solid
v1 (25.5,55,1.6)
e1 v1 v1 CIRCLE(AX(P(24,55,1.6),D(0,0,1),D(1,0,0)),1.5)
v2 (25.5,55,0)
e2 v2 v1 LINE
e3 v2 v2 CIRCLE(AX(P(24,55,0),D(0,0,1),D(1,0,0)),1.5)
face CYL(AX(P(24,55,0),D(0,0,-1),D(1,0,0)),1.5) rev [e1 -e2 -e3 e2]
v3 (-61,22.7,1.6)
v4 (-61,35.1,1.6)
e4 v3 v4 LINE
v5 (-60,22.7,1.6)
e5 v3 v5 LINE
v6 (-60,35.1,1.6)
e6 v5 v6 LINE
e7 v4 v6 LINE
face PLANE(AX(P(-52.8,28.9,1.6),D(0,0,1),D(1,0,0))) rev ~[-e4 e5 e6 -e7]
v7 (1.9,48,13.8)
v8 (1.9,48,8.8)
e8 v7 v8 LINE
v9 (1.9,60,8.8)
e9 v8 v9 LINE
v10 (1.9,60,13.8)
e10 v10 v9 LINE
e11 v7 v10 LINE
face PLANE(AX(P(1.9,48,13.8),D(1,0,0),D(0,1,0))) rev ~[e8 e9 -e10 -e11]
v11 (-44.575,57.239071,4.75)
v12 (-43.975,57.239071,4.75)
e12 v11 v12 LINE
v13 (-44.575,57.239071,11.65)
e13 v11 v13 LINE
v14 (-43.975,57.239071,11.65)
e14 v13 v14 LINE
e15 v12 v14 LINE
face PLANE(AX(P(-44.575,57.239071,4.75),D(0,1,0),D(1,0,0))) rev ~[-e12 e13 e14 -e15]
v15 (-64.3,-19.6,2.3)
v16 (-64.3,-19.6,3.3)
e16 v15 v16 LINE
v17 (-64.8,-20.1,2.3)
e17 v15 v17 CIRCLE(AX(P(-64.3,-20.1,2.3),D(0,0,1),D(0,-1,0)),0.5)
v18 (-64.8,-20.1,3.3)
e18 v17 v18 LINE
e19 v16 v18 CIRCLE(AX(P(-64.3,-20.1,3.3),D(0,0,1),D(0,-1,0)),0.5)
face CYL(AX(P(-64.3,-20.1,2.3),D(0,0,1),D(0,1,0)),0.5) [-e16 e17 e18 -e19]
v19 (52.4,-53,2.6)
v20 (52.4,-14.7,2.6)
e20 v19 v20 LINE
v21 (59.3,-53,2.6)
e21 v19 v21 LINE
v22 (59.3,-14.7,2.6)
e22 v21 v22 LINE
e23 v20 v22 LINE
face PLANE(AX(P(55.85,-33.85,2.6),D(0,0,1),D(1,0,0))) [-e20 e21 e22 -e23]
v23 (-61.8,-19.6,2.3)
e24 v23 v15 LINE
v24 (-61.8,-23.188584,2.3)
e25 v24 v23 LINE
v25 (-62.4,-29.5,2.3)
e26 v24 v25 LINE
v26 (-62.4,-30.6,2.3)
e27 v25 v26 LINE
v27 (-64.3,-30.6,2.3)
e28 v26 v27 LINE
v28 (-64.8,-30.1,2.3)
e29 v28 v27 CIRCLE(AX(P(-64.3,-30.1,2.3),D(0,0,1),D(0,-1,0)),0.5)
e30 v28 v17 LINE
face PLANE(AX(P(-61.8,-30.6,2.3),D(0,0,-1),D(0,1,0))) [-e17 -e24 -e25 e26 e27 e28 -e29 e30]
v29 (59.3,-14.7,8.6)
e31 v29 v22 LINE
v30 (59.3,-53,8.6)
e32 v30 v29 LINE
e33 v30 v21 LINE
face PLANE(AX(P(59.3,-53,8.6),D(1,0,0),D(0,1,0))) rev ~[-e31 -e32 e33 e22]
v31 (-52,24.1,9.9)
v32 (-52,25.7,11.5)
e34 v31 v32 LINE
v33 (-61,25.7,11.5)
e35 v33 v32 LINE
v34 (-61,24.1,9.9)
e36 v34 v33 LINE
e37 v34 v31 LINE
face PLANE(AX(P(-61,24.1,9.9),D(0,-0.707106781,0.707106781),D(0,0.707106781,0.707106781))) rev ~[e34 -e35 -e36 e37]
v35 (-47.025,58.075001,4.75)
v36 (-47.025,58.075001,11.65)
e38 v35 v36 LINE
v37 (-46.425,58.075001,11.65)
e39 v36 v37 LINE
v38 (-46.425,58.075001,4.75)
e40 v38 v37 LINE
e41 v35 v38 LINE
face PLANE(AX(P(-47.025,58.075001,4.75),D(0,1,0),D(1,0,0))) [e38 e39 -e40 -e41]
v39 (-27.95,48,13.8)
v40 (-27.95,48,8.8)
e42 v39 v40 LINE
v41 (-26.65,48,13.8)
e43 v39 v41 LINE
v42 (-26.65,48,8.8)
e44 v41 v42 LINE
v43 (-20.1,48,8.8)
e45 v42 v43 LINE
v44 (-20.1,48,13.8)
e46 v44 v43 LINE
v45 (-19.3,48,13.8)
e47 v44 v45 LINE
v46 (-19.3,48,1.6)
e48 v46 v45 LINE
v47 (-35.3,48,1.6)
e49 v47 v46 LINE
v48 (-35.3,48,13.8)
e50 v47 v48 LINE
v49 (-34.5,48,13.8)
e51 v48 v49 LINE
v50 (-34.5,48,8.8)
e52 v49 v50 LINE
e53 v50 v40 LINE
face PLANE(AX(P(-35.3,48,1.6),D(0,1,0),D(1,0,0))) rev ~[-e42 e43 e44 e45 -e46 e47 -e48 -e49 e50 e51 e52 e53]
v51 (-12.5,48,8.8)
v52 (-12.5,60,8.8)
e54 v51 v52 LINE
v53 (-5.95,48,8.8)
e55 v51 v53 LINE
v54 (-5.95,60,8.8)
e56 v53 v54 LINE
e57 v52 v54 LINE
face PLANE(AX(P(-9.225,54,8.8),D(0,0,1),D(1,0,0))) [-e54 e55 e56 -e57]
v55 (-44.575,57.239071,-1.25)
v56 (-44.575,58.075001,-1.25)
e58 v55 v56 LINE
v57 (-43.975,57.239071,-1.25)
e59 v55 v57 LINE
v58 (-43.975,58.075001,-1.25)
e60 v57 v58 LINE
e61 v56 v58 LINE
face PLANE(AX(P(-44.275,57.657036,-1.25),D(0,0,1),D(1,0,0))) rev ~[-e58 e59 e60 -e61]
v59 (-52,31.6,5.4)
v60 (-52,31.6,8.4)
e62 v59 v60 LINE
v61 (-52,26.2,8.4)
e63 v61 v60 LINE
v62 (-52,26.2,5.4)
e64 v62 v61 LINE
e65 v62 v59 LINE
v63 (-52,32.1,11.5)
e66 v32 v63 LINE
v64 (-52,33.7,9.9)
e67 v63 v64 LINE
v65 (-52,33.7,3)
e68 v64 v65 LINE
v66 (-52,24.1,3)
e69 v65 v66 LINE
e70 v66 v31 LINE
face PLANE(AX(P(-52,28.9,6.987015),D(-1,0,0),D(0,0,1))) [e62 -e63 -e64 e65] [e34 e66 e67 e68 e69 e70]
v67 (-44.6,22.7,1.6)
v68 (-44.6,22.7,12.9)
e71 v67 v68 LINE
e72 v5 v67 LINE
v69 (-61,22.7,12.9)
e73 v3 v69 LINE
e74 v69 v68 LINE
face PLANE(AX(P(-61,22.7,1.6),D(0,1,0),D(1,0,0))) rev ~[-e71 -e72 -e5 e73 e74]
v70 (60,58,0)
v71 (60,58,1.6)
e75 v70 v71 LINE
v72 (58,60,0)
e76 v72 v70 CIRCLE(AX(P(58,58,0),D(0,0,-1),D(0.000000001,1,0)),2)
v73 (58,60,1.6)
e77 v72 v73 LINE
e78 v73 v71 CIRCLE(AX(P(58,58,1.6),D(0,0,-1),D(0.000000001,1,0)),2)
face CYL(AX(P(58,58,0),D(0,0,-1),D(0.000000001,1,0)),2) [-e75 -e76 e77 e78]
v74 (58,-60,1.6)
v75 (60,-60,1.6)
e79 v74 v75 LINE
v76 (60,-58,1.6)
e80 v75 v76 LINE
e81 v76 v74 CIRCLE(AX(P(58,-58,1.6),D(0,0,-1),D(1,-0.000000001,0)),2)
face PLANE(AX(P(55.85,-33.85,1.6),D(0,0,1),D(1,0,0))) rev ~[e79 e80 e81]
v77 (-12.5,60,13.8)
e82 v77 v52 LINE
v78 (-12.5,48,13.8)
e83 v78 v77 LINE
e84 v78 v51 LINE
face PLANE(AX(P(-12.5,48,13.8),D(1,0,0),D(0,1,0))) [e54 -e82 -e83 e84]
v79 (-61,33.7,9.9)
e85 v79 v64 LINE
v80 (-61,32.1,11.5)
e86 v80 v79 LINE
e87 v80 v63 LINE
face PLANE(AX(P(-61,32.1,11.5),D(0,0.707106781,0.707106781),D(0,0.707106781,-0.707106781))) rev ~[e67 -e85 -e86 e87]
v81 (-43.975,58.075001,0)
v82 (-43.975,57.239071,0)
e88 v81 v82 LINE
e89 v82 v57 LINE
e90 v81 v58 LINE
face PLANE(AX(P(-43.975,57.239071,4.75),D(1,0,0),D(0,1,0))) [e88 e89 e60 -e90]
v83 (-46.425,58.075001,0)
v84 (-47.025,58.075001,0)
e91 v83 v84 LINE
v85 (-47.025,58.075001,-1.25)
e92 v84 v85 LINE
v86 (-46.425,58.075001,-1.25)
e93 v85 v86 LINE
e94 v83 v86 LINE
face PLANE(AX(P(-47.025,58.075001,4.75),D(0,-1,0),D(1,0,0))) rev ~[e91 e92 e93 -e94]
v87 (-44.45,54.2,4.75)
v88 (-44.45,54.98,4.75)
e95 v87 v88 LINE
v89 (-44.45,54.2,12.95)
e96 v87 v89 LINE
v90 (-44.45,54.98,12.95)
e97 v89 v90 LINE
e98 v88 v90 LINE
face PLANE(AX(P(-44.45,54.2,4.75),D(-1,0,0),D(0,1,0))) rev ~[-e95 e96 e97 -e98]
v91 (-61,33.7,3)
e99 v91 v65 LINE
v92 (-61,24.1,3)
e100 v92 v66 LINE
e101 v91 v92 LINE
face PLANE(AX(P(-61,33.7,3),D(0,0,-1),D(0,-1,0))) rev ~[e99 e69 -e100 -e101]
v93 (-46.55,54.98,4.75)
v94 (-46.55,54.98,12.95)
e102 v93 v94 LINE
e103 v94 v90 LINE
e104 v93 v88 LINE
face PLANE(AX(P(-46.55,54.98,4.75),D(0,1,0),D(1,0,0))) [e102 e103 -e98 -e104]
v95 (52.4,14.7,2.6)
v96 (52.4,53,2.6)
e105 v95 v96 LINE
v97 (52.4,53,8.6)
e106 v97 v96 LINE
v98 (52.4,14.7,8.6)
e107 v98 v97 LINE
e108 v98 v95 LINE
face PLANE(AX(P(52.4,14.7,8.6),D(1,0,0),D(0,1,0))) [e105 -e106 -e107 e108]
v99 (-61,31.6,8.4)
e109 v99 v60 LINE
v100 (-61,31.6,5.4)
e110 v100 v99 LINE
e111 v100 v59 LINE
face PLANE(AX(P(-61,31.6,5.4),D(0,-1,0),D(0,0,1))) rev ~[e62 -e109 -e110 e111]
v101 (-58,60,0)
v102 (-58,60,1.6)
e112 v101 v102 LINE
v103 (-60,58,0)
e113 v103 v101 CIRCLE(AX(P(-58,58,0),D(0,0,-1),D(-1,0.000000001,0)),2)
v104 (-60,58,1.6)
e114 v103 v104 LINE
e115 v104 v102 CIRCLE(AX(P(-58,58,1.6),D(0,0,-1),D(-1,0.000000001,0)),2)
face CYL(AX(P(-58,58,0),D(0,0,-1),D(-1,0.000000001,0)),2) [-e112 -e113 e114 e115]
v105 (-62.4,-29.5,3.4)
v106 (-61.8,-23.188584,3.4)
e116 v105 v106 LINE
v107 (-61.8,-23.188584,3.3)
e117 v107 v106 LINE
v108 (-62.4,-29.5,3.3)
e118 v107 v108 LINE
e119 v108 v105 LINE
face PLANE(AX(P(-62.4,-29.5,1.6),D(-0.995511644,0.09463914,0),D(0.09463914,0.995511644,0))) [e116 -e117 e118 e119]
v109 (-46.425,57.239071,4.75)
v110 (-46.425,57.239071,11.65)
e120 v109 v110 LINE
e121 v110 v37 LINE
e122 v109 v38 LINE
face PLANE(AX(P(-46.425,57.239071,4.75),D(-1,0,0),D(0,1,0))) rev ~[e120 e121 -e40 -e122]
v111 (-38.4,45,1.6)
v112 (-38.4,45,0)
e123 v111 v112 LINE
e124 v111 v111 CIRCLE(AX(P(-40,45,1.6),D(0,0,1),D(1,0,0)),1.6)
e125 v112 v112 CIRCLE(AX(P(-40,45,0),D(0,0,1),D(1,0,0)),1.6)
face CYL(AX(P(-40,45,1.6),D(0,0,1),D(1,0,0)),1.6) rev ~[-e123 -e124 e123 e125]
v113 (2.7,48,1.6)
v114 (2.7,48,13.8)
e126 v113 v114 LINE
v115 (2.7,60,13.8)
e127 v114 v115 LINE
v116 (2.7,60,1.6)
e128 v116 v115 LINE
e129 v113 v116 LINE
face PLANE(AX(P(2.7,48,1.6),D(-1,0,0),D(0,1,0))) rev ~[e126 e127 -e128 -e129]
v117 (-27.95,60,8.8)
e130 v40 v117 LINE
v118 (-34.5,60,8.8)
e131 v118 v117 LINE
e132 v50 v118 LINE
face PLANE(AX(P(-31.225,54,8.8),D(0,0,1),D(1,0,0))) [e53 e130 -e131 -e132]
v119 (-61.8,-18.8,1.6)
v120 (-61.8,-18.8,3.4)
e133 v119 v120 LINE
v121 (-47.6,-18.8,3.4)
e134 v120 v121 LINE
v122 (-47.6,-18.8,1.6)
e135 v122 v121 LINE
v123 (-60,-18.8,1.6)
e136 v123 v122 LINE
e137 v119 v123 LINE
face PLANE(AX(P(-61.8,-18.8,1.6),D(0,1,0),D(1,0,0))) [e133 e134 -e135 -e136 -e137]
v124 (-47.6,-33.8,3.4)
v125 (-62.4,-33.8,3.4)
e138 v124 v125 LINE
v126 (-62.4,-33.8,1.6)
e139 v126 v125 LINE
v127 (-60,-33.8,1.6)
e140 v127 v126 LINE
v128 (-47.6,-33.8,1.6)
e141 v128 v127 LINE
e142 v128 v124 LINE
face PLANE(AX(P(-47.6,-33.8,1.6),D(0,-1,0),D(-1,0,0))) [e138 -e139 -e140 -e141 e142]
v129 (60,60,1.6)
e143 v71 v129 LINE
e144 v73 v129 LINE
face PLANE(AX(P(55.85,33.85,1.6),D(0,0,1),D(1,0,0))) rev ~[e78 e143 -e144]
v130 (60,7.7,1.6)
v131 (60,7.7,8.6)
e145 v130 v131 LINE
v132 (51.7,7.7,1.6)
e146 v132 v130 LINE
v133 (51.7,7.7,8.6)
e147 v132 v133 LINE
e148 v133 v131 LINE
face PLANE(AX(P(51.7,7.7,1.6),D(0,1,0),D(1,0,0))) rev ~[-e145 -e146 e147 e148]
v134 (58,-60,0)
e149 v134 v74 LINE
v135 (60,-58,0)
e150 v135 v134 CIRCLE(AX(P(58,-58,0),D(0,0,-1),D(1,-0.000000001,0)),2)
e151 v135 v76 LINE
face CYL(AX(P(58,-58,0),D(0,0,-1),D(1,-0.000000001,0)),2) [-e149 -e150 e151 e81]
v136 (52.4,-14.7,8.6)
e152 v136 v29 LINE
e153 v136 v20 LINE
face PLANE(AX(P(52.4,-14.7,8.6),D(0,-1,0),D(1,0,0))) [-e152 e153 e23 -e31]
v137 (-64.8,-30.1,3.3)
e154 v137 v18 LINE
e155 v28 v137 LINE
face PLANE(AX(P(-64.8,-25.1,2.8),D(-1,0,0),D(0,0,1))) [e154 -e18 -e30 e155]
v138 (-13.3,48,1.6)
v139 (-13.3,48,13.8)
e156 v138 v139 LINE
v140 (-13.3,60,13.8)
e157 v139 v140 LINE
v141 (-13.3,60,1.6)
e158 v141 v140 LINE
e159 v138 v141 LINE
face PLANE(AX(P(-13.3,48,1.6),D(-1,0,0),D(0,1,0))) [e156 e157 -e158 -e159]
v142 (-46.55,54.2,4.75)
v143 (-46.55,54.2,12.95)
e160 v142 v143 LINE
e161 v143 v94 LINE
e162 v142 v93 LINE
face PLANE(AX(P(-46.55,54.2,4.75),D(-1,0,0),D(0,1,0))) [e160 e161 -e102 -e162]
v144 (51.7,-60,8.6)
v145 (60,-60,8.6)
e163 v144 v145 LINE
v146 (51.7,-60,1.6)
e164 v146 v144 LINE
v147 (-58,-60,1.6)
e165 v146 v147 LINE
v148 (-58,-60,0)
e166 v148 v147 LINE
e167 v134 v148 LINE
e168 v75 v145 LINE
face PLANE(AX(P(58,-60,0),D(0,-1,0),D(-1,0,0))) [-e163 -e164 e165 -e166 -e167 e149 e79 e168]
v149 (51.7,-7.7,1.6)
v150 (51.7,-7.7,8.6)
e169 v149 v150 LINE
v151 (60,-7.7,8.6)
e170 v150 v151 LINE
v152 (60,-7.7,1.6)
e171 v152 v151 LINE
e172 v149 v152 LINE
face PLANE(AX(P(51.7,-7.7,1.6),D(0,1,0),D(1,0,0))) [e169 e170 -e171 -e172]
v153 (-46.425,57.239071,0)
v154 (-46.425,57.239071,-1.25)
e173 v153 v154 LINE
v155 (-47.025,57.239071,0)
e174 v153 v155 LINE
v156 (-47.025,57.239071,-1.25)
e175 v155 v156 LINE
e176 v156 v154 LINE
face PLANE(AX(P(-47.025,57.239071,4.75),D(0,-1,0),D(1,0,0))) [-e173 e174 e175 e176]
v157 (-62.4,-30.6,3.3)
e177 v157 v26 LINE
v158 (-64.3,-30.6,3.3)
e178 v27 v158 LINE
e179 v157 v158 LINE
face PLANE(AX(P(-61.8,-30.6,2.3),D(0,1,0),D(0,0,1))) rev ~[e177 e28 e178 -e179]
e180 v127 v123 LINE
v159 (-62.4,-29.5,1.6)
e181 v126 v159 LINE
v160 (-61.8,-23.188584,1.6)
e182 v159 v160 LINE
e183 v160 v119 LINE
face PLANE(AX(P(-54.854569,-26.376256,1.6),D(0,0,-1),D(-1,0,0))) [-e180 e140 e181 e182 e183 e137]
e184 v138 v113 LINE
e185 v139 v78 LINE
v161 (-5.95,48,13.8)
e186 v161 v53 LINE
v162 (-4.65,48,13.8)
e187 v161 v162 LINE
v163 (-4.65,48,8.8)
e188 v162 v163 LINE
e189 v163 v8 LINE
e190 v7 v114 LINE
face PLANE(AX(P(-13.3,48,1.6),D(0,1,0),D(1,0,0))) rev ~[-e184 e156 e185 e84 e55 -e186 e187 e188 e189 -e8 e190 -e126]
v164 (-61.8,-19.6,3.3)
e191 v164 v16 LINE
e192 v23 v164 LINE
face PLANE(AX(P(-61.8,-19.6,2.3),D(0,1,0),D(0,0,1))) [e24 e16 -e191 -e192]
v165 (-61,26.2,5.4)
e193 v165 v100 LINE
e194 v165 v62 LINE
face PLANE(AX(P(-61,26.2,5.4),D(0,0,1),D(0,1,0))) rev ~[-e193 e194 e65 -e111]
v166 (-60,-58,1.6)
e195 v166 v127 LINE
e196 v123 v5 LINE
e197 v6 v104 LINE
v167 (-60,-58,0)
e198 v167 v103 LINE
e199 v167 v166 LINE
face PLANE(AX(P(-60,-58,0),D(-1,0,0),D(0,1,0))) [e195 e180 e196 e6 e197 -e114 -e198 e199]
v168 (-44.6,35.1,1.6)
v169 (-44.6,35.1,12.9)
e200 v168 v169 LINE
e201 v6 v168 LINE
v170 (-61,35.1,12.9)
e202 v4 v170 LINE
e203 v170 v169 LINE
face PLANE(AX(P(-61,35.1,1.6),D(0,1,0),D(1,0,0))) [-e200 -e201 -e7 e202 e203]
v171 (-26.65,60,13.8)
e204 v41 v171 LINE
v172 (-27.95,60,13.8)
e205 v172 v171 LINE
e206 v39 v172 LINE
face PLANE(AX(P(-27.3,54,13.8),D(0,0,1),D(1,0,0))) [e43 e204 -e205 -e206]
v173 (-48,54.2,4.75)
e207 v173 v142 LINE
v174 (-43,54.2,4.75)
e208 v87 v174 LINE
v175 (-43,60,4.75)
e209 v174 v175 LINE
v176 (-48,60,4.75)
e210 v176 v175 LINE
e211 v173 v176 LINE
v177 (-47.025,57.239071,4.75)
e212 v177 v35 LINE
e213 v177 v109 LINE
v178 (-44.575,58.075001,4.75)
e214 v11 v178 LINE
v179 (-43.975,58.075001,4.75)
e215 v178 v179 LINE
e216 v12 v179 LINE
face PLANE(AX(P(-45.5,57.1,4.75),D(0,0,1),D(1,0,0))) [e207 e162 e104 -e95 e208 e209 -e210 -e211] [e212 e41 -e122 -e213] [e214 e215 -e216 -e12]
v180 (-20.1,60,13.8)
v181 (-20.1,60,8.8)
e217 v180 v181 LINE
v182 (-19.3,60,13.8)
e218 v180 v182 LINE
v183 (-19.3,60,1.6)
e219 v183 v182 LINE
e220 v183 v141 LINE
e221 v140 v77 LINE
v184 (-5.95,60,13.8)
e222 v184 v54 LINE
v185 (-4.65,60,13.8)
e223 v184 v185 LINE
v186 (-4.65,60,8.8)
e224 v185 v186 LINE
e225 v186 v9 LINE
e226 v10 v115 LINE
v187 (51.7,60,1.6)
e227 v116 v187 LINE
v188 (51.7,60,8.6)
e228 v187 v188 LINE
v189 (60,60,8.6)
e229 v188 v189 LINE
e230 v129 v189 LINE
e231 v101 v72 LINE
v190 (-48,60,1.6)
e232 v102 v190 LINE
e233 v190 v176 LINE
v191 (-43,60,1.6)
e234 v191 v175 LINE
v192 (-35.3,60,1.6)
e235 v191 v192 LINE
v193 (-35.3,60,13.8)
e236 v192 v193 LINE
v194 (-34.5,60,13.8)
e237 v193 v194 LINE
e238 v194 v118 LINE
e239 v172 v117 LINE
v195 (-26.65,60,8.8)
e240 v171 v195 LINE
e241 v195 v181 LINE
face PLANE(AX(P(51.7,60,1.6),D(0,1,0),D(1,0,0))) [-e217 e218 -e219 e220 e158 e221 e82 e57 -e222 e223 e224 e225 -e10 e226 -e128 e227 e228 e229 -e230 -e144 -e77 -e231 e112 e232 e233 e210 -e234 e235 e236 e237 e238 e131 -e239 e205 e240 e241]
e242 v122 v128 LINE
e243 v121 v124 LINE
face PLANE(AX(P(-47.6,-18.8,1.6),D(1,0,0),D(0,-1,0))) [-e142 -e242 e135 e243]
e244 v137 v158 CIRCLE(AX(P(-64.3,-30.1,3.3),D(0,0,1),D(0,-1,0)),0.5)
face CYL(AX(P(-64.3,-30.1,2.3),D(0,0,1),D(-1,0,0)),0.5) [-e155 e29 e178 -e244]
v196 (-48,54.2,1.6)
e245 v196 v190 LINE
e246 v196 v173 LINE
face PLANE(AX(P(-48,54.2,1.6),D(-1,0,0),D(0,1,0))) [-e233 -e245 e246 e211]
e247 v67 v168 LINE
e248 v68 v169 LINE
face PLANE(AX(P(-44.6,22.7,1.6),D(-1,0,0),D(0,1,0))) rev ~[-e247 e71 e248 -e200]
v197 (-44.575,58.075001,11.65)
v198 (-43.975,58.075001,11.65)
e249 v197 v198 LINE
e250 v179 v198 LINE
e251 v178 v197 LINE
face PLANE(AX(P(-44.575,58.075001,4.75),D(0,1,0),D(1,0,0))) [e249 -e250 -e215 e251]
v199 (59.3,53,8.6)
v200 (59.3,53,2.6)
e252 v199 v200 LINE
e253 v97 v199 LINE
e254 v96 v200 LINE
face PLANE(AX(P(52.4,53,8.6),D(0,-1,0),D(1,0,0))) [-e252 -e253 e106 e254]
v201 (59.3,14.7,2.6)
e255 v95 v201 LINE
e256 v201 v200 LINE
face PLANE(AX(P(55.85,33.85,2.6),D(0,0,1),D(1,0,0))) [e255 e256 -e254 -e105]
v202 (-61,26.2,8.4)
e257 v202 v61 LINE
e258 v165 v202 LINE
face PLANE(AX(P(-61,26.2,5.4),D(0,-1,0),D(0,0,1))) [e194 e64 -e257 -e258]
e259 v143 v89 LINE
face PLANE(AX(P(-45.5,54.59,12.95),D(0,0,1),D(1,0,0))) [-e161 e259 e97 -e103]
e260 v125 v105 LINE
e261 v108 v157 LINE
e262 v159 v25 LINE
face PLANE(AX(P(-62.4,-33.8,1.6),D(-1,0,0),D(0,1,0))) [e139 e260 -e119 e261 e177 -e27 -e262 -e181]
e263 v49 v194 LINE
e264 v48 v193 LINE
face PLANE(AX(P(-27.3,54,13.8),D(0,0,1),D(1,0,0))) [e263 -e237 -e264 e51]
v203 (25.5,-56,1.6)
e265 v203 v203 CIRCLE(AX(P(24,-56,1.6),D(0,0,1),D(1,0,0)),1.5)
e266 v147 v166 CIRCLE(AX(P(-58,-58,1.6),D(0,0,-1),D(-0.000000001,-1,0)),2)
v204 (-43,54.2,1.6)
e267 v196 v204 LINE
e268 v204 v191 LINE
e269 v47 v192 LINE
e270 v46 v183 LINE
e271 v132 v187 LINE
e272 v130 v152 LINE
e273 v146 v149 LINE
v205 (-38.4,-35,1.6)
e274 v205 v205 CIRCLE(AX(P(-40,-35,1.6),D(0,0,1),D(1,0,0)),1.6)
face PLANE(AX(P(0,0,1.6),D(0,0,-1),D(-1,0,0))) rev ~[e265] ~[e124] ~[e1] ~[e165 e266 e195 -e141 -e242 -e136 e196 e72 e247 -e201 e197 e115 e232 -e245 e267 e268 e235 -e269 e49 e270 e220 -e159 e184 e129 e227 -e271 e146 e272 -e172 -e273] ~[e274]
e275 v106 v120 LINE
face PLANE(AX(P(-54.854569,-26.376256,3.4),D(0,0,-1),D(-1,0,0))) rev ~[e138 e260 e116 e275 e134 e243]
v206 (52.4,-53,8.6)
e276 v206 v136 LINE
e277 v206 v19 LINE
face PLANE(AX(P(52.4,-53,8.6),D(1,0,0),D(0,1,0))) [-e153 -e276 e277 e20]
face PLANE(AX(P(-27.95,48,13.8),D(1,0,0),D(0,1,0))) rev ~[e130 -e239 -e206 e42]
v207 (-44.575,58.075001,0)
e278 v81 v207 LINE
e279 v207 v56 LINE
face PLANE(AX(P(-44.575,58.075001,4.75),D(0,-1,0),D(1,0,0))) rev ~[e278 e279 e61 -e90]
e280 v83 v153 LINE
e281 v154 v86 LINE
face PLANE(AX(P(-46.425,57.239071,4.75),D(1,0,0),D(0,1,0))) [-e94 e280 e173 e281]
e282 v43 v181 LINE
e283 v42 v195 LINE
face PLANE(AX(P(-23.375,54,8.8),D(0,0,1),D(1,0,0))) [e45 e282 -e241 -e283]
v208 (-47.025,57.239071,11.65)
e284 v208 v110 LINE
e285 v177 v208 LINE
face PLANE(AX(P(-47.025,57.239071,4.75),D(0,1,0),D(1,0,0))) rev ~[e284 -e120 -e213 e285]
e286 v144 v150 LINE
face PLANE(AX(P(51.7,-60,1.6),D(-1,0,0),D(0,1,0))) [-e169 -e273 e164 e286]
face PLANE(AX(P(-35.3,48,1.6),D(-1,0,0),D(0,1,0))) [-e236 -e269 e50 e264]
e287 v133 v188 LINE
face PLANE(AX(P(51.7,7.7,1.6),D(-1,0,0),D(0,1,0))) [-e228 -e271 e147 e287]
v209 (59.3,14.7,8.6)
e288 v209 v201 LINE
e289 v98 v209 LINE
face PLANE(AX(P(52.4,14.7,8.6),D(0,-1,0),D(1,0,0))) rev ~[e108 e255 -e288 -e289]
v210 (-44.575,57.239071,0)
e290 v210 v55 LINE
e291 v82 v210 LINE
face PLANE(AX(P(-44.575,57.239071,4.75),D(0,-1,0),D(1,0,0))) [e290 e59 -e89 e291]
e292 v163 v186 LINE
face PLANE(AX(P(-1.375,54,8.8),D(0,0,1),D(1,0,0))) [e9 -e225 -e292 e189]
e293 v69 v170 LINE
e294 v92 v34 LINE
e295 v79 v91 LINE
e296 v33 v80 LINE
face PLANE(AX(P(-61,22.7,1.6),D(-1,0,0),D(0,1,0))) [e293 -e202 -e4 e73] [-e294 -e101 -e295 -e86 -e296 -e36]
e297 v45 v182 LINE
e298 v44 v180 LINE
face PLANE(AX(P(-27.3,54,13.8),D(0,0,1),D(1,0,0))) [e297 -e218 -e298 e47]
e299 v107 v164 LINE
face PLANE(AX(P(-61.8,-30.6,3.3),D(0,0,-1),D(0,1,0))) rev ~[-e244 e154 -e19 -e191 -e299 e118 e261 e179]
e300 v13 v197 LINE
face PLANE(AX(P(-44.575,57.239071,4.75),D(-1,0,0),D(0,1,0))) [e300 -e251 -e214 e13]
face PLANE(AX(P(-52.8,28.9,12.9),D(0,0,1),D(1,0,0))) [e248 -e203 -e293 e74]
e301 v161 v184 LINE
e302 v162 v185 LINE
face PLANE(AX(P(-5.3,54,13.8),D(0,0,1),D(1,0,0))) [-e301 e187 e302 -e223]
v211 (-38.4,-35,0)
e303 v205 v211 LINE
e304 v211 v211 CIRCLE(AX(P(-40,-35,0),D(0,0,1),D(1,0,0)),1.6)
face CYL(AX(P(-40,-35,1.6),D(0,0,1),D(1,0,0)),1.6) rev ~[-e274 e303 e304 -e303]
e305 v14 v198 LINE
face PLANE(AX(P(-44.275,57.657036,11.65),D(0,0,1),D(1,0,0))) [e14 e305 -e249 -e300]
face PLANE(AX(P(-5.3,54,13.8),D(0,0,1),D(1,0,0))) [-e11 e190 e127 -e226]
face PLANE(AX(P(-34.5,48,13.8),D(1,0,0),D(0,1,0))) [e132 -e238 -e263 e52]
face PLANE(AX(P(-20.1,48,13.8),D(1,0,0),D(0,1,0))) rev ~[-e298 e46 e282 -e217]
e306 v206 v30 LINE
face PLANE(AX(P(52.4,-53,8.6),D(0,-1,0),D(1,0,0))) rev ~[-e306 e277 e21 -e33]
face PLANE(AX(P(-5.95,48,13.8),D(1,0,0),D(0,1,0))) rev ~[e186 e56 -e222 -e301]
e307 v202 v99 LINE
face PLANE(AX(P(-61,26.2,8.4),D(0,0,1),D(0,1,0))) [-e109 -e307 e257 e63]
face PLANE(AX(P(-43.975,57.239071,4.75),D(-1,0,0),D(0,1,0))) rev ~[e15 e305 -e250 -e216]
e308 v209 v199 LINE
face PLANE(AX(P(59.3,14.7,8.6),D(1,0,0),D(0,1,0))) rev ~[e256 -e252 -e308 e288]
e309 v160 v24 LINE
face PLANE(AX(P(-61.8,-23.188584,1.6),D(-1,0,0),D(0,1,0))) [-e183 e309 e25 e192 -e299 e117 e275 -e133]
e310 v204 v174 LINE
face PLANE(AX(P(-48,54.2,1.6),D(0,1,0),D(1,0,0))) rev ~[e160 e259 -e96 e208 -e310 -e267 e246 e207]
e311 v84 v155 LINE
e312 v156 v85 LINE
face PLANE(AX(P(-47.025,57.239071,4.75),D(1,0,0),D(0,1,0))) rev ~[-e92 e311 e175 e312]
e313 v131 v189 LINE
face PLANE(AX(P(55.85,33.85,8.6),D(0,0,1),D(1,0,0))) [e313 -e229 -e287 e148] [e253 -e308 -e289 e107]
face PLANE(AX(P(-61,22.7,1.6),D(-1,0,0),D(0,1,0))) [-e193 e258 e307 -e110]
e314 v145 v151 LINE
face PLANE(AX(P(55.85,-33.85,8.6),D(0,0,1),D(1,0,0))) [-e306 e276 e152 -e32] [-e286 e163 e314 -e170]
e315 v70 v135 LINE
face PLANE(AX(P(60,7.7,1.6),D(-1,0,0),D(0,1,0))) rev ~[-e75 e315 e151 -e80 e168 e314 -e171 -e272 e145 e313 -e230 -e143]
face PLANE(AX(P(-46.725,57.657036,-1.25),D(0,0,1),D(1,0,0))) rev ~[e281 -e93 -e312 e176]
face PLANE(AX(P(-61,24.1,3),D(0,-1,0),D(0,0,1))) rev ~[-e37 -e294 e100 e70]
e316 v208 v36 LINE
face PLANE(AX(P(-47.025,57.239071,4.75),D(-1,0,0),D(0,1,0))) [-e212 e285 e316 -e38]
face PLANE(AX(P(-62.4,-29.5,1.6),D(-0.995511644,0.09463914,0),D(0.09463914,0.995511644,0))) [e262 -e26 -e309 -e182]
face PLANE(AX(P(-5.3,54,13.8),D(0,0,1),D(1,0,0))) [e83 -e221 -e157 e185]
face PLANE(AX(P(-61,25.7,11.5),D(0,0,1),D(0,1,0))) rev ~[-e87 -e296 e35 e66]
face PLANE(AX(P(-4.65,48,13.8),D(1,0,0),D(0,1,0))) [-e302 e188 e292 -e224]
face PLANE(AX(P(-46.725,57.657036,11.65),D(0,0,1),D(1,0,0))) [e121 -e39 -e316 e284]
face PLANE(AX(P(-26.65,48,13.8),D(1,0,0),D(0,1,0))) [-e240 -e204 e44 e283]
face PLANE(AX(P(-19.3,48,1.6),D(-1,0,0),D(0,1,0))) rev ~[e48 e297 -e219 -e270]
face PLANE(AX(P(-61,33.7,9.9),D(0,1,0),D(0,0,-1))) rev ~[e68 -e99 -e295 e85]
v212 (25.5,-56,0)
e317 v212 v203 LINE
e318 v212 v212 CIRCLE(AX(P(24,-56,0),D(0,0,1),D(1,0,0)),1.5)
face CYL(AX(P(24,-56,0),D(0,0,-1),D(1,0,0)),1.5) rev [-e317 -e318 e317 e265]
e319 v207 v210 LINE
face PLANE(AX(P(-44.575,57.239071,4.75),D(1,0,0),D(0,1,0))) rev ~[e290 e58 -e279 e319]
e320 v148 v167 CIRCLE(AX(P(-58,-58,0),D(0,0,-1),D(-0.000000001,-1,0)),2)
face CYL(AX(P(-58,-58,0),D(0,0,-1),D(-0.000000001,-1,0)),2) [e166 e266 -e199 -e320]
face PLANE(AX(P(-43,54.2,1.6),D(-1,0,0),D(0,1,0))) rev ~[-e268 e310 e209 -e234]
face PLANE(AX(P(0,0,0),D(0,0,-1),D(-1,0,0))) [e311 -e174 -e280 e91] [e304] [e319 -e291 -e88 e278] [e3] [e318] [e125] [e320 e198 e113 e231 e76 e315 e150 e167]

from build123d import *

# Parameters (mm, degrees)
SKETCH_1_R             = 1.5
EXTRUDE_1_DEPTH        = 1.6
SKETCH_2_W             = 16.4
SKETCH_2_H             = 12.4
EXTRUDE_2_DEPTH        = 11.3
SKETCH_3_W             = 3
SKETCH_3_H             = 5.4
CUT_EXTRUDE_1_DEPTH    = 9
EXTRUDE_3_DEPTH        = 1.8
SKETCH_5_W             = 1
SKETCH_5_H             = 11
EXTRUDE_4_DEPTH        = 3
FILLET_1_R             = 0.5
SKETCH_43_W            = 8.3
SKETCH_43_H            = 52.3
EXTRUDE_15_DEPTH       = 7
SKETCH_45_W            = 6.9
SKETCH_45_H            = 38.3
CUT_EXTRUDE_12_DEPTH   = 6
SKETCH_53_W            = 16
SKETCH_53_H            = 12
EXTRUDE_20_DEPTH       = 12.2
SKETCH_54_W            = 6.55
SKETCH_54_H            = 12
CUT_EXTRUDE_14_DEPTH   = 5
SKETCH_59_R            = 1.6
CUT_EXTRUDE_16_DEPTH   = 10
PATTERN_LINEAR_4_COUNT = 2
PATTERN_LINEAR_4_PITCH = 22
SKETCH_60_W            = 5
SKETCH_60_H            = 5.8
EXTRUDE_21_DEPTH       = 3.15
SKETCH_61_W            = 2.1
SKETCH_61_H            = 0.78
EXTRUDE_22_DEPTH       = 8.2
EXTRUDE_23_DEPTH       = 6.9
EXTRUDE_23_DEPTH_BACK  = 6
SKETCH_62_W            = 0.6
SKETCH_62_H            = 0.835930121


with BuildPart() as part:
    # 草图1 → 凸台-拉伸1 (new body)
    with BuildSketch(Plane.XY):
        with BuildLine():
            Line((58, -60), (-58, -60))
            ThreePointArc((-58, -60), (-59.414213562, -59.414213562), (-60, -58))
            Line((-60, -58), (-60, 58))
            ThreePointArc((-60, 58), (-59.414213562, 59.414213562), (-58, 60))
            Line((-58, 60), (58, 60))
            ThreePointArc((58, 60), (59.414213562, 59.414213562), (60, 58))
            Line((60, 58), (60, -58))
            ThreePointArc((60, -58), (59.414213562, -59.414213562), (58, -60))
        make_face()
        with Locations((24, 55)):
            Circle(SKETCH_1_R, mode=Mode.SUBTRACT)
        with Locations((24, -56)):
            Circle(SKETCH_1_R, mode=Mode.SUBTRACT)
    extrude(amount=EXTRUDE_1_DEPTH)

    # 草图2 → 凸台-拉伸2 (add)
    with BuildSketch(Plane.XY.offset(1.6)):
        with Locations((-52.8, 28.9)):
            Rectangle(SKETCH_2_W, SKETCH_2_H)
    extrude(amount=EXTRUDE_2_DEPTH)

    # 草图3 → 切除-拉伸1 (cut)
    with BuildSketch(Plane.ZY.offset(61)):
        Polygon((3, 33.7), (3, 24.1), (9.9, 24.1), (11.5, 25.7), (11.5, 32.1), (9.9, 33.7), align=None)
        with Locations((6.9, 28.9)):
            Rectangle(SKETCH_3_W, SKETCH_3_H, mode=Mode.SUBTRACT)
    extrude(amount=-CUT_EXTRUDE_1_DEPTH, mode=Mode.SUBTRACT)

    # 草图4 → 凸台-拉伸3 (add)
    with BuildSketch(Plane.XY.offset(1.6)):
        Polygon((-47.6, -18.8), (-47.6, -33.8), (-62.4, -33.8), (-62.4, -29.5), (-61.8, -23.188583942), (-61.8, -18.8), align=None)
    extrude(amount=EXTRUDE_3_DEPTH)

    # 草图5 → 凸台-拉伸4 (add)
    with BuildSketch(Plane.ZY.offset(61.8)):
        with Locations((2.8, -25.1)):
            Rectangle(SKETCH_5_W, SKETCH_5_H)
    extrude(amount=EXTRUDE_4_DEPTH)

    # 圆角1
    fillet_1_edges = [part.edges().sort_by_distance(p)[0] for p in [
        (-64.8, -19.6, 2.8),
        (-64.8, -30.6, 2.8),
    ]]
    fillet(fillet_1_edges, radius=FILLET_1_R)

    # 草图43 → 凸台-拉伸15 (add)
    with BuildSketch(Plane(origin=(66.890855613, 85.562649537, 1.6), x_dir=(1, 0, 0), z_dir=(0, 0, 1))):
        with Locations((-11.040855613, -51.712649537)):
            Rectangle(SKETCH_43_W, SKETCH_43_H)
        with Locations((-11.040855613, -119.412649537)):
            Rectangle(SKETCH_43_W, SKETCH_43_H)
    extrude(amount=EXTRUDE_15_DEPTH)

    # 草图45 → 切除-拉伸12 (cut)
    with BuildSketch(Plane(origin=(66.890855613, 85.562649537, 8.6), x_dir=(1, 0, 0), z_dir=(0, 0, 1))):
        with Locations((-11.040855613, -51.712649537)):
            Rectangle(SKETCH_45_W, SKETCH_45_H)
        with Locations((-11.040855613, -119.412649537)):
            Rectangle(SKETCH_45_W, SKETCH_45_H)
    extrude(amount=-CUT_EXTRUDE_12_DEPTH, mode=Mode.SUBTRACT)

    # 草图53 → 凸台-拉伸20 (add)
    with BuildSketch(Plane.XY.offset(1.6)):
        with Locations((-5.3, 54)):
            Rectangle(SKETCH_53_W, SKETCH_53_H)
    extrude_20 = extrude(amount=EXTRUDE_20_DEPTH)

    # 草图54 → 切除-拉伸14 (cut)
    with BuildSketch(Plane.XY.offset(13.8)):
        with Locations((-9.225, 54)):
            Rectangle(SKETCH_54_W, SKETCH_54_H)
        with Locations((-1.375, 54)):
            Rectangle(SKETCH_54_W, SKETCH_54_H)
    cut_extrude_14 = extrude(amount=-CUT_EXTRUDE_14_DEPTH, mode=Mode.SUBTRACT)

    # 草图59 → 切除-拉伸16 (cut)
    with BuildSketch(Plane.XY.offset(1.6)):
        with Locations((-40, -35)):
            Circle(SKETCH_59_R)
        with Locations((-40, 45)):
            Circle(SKETCH_59_R)
    extrude(amount=-CUT_EXTRUDE_16_DEPTH, mode=Mode.SUBTRACT)

    # 阵列(线性)4: 凸台-拉伸20, 切除-拉伸14 ×2
    with Locations(*[(-i * PATTERN_LINEAR_4_PITCH, 0, 0) for i in range(1, PATTERN_LINEAR_4_COUNT)]):
        add(extrude_20)
        add(cut_extrude_14, mode=Mode.SUBTRACT)

    # 草图60 → 凸台-拉伸21 (add)
    with BuildSketch(Plane.XY.offset(1.6)):
        with Locations((-45.5, 57.1)):
            Rectangle(SKETCH_60_W, SKETCH_60_H)
    extrude(amount=EXTRUDE_21_DEPTH)

    # 草图61 → 凸台-拉伸22 (add)
    with BuildSketch(Plane.XY.offset(4.75)):
        with Locations((-45.5, 54.59)):
            Rectangle(SKETCH_61_W, SKETCH_61_H)
    extrude(amount=EXTRUDE_22_DEPTH)

    # 草图62 → 凸台-拉伸23 (add, two sides: drawn at the far end of the back side and taken through both)
    with BuildSketch(Plane.XY.offset(4.75).offset(-EXTRUDE_23_DEPTH_BACK)):
        with Locations((-44.275, 57.657035773)):
            Rectangle(SKETCH_62_W, SKETCH_62_H)
        with Locations((-46.725, 57.657035773)):
            Rectangle(SKETCH_62_W, SKETCH_62_H)
    extrude(amount=EXTRUDE_23_DEPTH + EXTRUDE_23_DEPTH_BACK)


solid = part.part
